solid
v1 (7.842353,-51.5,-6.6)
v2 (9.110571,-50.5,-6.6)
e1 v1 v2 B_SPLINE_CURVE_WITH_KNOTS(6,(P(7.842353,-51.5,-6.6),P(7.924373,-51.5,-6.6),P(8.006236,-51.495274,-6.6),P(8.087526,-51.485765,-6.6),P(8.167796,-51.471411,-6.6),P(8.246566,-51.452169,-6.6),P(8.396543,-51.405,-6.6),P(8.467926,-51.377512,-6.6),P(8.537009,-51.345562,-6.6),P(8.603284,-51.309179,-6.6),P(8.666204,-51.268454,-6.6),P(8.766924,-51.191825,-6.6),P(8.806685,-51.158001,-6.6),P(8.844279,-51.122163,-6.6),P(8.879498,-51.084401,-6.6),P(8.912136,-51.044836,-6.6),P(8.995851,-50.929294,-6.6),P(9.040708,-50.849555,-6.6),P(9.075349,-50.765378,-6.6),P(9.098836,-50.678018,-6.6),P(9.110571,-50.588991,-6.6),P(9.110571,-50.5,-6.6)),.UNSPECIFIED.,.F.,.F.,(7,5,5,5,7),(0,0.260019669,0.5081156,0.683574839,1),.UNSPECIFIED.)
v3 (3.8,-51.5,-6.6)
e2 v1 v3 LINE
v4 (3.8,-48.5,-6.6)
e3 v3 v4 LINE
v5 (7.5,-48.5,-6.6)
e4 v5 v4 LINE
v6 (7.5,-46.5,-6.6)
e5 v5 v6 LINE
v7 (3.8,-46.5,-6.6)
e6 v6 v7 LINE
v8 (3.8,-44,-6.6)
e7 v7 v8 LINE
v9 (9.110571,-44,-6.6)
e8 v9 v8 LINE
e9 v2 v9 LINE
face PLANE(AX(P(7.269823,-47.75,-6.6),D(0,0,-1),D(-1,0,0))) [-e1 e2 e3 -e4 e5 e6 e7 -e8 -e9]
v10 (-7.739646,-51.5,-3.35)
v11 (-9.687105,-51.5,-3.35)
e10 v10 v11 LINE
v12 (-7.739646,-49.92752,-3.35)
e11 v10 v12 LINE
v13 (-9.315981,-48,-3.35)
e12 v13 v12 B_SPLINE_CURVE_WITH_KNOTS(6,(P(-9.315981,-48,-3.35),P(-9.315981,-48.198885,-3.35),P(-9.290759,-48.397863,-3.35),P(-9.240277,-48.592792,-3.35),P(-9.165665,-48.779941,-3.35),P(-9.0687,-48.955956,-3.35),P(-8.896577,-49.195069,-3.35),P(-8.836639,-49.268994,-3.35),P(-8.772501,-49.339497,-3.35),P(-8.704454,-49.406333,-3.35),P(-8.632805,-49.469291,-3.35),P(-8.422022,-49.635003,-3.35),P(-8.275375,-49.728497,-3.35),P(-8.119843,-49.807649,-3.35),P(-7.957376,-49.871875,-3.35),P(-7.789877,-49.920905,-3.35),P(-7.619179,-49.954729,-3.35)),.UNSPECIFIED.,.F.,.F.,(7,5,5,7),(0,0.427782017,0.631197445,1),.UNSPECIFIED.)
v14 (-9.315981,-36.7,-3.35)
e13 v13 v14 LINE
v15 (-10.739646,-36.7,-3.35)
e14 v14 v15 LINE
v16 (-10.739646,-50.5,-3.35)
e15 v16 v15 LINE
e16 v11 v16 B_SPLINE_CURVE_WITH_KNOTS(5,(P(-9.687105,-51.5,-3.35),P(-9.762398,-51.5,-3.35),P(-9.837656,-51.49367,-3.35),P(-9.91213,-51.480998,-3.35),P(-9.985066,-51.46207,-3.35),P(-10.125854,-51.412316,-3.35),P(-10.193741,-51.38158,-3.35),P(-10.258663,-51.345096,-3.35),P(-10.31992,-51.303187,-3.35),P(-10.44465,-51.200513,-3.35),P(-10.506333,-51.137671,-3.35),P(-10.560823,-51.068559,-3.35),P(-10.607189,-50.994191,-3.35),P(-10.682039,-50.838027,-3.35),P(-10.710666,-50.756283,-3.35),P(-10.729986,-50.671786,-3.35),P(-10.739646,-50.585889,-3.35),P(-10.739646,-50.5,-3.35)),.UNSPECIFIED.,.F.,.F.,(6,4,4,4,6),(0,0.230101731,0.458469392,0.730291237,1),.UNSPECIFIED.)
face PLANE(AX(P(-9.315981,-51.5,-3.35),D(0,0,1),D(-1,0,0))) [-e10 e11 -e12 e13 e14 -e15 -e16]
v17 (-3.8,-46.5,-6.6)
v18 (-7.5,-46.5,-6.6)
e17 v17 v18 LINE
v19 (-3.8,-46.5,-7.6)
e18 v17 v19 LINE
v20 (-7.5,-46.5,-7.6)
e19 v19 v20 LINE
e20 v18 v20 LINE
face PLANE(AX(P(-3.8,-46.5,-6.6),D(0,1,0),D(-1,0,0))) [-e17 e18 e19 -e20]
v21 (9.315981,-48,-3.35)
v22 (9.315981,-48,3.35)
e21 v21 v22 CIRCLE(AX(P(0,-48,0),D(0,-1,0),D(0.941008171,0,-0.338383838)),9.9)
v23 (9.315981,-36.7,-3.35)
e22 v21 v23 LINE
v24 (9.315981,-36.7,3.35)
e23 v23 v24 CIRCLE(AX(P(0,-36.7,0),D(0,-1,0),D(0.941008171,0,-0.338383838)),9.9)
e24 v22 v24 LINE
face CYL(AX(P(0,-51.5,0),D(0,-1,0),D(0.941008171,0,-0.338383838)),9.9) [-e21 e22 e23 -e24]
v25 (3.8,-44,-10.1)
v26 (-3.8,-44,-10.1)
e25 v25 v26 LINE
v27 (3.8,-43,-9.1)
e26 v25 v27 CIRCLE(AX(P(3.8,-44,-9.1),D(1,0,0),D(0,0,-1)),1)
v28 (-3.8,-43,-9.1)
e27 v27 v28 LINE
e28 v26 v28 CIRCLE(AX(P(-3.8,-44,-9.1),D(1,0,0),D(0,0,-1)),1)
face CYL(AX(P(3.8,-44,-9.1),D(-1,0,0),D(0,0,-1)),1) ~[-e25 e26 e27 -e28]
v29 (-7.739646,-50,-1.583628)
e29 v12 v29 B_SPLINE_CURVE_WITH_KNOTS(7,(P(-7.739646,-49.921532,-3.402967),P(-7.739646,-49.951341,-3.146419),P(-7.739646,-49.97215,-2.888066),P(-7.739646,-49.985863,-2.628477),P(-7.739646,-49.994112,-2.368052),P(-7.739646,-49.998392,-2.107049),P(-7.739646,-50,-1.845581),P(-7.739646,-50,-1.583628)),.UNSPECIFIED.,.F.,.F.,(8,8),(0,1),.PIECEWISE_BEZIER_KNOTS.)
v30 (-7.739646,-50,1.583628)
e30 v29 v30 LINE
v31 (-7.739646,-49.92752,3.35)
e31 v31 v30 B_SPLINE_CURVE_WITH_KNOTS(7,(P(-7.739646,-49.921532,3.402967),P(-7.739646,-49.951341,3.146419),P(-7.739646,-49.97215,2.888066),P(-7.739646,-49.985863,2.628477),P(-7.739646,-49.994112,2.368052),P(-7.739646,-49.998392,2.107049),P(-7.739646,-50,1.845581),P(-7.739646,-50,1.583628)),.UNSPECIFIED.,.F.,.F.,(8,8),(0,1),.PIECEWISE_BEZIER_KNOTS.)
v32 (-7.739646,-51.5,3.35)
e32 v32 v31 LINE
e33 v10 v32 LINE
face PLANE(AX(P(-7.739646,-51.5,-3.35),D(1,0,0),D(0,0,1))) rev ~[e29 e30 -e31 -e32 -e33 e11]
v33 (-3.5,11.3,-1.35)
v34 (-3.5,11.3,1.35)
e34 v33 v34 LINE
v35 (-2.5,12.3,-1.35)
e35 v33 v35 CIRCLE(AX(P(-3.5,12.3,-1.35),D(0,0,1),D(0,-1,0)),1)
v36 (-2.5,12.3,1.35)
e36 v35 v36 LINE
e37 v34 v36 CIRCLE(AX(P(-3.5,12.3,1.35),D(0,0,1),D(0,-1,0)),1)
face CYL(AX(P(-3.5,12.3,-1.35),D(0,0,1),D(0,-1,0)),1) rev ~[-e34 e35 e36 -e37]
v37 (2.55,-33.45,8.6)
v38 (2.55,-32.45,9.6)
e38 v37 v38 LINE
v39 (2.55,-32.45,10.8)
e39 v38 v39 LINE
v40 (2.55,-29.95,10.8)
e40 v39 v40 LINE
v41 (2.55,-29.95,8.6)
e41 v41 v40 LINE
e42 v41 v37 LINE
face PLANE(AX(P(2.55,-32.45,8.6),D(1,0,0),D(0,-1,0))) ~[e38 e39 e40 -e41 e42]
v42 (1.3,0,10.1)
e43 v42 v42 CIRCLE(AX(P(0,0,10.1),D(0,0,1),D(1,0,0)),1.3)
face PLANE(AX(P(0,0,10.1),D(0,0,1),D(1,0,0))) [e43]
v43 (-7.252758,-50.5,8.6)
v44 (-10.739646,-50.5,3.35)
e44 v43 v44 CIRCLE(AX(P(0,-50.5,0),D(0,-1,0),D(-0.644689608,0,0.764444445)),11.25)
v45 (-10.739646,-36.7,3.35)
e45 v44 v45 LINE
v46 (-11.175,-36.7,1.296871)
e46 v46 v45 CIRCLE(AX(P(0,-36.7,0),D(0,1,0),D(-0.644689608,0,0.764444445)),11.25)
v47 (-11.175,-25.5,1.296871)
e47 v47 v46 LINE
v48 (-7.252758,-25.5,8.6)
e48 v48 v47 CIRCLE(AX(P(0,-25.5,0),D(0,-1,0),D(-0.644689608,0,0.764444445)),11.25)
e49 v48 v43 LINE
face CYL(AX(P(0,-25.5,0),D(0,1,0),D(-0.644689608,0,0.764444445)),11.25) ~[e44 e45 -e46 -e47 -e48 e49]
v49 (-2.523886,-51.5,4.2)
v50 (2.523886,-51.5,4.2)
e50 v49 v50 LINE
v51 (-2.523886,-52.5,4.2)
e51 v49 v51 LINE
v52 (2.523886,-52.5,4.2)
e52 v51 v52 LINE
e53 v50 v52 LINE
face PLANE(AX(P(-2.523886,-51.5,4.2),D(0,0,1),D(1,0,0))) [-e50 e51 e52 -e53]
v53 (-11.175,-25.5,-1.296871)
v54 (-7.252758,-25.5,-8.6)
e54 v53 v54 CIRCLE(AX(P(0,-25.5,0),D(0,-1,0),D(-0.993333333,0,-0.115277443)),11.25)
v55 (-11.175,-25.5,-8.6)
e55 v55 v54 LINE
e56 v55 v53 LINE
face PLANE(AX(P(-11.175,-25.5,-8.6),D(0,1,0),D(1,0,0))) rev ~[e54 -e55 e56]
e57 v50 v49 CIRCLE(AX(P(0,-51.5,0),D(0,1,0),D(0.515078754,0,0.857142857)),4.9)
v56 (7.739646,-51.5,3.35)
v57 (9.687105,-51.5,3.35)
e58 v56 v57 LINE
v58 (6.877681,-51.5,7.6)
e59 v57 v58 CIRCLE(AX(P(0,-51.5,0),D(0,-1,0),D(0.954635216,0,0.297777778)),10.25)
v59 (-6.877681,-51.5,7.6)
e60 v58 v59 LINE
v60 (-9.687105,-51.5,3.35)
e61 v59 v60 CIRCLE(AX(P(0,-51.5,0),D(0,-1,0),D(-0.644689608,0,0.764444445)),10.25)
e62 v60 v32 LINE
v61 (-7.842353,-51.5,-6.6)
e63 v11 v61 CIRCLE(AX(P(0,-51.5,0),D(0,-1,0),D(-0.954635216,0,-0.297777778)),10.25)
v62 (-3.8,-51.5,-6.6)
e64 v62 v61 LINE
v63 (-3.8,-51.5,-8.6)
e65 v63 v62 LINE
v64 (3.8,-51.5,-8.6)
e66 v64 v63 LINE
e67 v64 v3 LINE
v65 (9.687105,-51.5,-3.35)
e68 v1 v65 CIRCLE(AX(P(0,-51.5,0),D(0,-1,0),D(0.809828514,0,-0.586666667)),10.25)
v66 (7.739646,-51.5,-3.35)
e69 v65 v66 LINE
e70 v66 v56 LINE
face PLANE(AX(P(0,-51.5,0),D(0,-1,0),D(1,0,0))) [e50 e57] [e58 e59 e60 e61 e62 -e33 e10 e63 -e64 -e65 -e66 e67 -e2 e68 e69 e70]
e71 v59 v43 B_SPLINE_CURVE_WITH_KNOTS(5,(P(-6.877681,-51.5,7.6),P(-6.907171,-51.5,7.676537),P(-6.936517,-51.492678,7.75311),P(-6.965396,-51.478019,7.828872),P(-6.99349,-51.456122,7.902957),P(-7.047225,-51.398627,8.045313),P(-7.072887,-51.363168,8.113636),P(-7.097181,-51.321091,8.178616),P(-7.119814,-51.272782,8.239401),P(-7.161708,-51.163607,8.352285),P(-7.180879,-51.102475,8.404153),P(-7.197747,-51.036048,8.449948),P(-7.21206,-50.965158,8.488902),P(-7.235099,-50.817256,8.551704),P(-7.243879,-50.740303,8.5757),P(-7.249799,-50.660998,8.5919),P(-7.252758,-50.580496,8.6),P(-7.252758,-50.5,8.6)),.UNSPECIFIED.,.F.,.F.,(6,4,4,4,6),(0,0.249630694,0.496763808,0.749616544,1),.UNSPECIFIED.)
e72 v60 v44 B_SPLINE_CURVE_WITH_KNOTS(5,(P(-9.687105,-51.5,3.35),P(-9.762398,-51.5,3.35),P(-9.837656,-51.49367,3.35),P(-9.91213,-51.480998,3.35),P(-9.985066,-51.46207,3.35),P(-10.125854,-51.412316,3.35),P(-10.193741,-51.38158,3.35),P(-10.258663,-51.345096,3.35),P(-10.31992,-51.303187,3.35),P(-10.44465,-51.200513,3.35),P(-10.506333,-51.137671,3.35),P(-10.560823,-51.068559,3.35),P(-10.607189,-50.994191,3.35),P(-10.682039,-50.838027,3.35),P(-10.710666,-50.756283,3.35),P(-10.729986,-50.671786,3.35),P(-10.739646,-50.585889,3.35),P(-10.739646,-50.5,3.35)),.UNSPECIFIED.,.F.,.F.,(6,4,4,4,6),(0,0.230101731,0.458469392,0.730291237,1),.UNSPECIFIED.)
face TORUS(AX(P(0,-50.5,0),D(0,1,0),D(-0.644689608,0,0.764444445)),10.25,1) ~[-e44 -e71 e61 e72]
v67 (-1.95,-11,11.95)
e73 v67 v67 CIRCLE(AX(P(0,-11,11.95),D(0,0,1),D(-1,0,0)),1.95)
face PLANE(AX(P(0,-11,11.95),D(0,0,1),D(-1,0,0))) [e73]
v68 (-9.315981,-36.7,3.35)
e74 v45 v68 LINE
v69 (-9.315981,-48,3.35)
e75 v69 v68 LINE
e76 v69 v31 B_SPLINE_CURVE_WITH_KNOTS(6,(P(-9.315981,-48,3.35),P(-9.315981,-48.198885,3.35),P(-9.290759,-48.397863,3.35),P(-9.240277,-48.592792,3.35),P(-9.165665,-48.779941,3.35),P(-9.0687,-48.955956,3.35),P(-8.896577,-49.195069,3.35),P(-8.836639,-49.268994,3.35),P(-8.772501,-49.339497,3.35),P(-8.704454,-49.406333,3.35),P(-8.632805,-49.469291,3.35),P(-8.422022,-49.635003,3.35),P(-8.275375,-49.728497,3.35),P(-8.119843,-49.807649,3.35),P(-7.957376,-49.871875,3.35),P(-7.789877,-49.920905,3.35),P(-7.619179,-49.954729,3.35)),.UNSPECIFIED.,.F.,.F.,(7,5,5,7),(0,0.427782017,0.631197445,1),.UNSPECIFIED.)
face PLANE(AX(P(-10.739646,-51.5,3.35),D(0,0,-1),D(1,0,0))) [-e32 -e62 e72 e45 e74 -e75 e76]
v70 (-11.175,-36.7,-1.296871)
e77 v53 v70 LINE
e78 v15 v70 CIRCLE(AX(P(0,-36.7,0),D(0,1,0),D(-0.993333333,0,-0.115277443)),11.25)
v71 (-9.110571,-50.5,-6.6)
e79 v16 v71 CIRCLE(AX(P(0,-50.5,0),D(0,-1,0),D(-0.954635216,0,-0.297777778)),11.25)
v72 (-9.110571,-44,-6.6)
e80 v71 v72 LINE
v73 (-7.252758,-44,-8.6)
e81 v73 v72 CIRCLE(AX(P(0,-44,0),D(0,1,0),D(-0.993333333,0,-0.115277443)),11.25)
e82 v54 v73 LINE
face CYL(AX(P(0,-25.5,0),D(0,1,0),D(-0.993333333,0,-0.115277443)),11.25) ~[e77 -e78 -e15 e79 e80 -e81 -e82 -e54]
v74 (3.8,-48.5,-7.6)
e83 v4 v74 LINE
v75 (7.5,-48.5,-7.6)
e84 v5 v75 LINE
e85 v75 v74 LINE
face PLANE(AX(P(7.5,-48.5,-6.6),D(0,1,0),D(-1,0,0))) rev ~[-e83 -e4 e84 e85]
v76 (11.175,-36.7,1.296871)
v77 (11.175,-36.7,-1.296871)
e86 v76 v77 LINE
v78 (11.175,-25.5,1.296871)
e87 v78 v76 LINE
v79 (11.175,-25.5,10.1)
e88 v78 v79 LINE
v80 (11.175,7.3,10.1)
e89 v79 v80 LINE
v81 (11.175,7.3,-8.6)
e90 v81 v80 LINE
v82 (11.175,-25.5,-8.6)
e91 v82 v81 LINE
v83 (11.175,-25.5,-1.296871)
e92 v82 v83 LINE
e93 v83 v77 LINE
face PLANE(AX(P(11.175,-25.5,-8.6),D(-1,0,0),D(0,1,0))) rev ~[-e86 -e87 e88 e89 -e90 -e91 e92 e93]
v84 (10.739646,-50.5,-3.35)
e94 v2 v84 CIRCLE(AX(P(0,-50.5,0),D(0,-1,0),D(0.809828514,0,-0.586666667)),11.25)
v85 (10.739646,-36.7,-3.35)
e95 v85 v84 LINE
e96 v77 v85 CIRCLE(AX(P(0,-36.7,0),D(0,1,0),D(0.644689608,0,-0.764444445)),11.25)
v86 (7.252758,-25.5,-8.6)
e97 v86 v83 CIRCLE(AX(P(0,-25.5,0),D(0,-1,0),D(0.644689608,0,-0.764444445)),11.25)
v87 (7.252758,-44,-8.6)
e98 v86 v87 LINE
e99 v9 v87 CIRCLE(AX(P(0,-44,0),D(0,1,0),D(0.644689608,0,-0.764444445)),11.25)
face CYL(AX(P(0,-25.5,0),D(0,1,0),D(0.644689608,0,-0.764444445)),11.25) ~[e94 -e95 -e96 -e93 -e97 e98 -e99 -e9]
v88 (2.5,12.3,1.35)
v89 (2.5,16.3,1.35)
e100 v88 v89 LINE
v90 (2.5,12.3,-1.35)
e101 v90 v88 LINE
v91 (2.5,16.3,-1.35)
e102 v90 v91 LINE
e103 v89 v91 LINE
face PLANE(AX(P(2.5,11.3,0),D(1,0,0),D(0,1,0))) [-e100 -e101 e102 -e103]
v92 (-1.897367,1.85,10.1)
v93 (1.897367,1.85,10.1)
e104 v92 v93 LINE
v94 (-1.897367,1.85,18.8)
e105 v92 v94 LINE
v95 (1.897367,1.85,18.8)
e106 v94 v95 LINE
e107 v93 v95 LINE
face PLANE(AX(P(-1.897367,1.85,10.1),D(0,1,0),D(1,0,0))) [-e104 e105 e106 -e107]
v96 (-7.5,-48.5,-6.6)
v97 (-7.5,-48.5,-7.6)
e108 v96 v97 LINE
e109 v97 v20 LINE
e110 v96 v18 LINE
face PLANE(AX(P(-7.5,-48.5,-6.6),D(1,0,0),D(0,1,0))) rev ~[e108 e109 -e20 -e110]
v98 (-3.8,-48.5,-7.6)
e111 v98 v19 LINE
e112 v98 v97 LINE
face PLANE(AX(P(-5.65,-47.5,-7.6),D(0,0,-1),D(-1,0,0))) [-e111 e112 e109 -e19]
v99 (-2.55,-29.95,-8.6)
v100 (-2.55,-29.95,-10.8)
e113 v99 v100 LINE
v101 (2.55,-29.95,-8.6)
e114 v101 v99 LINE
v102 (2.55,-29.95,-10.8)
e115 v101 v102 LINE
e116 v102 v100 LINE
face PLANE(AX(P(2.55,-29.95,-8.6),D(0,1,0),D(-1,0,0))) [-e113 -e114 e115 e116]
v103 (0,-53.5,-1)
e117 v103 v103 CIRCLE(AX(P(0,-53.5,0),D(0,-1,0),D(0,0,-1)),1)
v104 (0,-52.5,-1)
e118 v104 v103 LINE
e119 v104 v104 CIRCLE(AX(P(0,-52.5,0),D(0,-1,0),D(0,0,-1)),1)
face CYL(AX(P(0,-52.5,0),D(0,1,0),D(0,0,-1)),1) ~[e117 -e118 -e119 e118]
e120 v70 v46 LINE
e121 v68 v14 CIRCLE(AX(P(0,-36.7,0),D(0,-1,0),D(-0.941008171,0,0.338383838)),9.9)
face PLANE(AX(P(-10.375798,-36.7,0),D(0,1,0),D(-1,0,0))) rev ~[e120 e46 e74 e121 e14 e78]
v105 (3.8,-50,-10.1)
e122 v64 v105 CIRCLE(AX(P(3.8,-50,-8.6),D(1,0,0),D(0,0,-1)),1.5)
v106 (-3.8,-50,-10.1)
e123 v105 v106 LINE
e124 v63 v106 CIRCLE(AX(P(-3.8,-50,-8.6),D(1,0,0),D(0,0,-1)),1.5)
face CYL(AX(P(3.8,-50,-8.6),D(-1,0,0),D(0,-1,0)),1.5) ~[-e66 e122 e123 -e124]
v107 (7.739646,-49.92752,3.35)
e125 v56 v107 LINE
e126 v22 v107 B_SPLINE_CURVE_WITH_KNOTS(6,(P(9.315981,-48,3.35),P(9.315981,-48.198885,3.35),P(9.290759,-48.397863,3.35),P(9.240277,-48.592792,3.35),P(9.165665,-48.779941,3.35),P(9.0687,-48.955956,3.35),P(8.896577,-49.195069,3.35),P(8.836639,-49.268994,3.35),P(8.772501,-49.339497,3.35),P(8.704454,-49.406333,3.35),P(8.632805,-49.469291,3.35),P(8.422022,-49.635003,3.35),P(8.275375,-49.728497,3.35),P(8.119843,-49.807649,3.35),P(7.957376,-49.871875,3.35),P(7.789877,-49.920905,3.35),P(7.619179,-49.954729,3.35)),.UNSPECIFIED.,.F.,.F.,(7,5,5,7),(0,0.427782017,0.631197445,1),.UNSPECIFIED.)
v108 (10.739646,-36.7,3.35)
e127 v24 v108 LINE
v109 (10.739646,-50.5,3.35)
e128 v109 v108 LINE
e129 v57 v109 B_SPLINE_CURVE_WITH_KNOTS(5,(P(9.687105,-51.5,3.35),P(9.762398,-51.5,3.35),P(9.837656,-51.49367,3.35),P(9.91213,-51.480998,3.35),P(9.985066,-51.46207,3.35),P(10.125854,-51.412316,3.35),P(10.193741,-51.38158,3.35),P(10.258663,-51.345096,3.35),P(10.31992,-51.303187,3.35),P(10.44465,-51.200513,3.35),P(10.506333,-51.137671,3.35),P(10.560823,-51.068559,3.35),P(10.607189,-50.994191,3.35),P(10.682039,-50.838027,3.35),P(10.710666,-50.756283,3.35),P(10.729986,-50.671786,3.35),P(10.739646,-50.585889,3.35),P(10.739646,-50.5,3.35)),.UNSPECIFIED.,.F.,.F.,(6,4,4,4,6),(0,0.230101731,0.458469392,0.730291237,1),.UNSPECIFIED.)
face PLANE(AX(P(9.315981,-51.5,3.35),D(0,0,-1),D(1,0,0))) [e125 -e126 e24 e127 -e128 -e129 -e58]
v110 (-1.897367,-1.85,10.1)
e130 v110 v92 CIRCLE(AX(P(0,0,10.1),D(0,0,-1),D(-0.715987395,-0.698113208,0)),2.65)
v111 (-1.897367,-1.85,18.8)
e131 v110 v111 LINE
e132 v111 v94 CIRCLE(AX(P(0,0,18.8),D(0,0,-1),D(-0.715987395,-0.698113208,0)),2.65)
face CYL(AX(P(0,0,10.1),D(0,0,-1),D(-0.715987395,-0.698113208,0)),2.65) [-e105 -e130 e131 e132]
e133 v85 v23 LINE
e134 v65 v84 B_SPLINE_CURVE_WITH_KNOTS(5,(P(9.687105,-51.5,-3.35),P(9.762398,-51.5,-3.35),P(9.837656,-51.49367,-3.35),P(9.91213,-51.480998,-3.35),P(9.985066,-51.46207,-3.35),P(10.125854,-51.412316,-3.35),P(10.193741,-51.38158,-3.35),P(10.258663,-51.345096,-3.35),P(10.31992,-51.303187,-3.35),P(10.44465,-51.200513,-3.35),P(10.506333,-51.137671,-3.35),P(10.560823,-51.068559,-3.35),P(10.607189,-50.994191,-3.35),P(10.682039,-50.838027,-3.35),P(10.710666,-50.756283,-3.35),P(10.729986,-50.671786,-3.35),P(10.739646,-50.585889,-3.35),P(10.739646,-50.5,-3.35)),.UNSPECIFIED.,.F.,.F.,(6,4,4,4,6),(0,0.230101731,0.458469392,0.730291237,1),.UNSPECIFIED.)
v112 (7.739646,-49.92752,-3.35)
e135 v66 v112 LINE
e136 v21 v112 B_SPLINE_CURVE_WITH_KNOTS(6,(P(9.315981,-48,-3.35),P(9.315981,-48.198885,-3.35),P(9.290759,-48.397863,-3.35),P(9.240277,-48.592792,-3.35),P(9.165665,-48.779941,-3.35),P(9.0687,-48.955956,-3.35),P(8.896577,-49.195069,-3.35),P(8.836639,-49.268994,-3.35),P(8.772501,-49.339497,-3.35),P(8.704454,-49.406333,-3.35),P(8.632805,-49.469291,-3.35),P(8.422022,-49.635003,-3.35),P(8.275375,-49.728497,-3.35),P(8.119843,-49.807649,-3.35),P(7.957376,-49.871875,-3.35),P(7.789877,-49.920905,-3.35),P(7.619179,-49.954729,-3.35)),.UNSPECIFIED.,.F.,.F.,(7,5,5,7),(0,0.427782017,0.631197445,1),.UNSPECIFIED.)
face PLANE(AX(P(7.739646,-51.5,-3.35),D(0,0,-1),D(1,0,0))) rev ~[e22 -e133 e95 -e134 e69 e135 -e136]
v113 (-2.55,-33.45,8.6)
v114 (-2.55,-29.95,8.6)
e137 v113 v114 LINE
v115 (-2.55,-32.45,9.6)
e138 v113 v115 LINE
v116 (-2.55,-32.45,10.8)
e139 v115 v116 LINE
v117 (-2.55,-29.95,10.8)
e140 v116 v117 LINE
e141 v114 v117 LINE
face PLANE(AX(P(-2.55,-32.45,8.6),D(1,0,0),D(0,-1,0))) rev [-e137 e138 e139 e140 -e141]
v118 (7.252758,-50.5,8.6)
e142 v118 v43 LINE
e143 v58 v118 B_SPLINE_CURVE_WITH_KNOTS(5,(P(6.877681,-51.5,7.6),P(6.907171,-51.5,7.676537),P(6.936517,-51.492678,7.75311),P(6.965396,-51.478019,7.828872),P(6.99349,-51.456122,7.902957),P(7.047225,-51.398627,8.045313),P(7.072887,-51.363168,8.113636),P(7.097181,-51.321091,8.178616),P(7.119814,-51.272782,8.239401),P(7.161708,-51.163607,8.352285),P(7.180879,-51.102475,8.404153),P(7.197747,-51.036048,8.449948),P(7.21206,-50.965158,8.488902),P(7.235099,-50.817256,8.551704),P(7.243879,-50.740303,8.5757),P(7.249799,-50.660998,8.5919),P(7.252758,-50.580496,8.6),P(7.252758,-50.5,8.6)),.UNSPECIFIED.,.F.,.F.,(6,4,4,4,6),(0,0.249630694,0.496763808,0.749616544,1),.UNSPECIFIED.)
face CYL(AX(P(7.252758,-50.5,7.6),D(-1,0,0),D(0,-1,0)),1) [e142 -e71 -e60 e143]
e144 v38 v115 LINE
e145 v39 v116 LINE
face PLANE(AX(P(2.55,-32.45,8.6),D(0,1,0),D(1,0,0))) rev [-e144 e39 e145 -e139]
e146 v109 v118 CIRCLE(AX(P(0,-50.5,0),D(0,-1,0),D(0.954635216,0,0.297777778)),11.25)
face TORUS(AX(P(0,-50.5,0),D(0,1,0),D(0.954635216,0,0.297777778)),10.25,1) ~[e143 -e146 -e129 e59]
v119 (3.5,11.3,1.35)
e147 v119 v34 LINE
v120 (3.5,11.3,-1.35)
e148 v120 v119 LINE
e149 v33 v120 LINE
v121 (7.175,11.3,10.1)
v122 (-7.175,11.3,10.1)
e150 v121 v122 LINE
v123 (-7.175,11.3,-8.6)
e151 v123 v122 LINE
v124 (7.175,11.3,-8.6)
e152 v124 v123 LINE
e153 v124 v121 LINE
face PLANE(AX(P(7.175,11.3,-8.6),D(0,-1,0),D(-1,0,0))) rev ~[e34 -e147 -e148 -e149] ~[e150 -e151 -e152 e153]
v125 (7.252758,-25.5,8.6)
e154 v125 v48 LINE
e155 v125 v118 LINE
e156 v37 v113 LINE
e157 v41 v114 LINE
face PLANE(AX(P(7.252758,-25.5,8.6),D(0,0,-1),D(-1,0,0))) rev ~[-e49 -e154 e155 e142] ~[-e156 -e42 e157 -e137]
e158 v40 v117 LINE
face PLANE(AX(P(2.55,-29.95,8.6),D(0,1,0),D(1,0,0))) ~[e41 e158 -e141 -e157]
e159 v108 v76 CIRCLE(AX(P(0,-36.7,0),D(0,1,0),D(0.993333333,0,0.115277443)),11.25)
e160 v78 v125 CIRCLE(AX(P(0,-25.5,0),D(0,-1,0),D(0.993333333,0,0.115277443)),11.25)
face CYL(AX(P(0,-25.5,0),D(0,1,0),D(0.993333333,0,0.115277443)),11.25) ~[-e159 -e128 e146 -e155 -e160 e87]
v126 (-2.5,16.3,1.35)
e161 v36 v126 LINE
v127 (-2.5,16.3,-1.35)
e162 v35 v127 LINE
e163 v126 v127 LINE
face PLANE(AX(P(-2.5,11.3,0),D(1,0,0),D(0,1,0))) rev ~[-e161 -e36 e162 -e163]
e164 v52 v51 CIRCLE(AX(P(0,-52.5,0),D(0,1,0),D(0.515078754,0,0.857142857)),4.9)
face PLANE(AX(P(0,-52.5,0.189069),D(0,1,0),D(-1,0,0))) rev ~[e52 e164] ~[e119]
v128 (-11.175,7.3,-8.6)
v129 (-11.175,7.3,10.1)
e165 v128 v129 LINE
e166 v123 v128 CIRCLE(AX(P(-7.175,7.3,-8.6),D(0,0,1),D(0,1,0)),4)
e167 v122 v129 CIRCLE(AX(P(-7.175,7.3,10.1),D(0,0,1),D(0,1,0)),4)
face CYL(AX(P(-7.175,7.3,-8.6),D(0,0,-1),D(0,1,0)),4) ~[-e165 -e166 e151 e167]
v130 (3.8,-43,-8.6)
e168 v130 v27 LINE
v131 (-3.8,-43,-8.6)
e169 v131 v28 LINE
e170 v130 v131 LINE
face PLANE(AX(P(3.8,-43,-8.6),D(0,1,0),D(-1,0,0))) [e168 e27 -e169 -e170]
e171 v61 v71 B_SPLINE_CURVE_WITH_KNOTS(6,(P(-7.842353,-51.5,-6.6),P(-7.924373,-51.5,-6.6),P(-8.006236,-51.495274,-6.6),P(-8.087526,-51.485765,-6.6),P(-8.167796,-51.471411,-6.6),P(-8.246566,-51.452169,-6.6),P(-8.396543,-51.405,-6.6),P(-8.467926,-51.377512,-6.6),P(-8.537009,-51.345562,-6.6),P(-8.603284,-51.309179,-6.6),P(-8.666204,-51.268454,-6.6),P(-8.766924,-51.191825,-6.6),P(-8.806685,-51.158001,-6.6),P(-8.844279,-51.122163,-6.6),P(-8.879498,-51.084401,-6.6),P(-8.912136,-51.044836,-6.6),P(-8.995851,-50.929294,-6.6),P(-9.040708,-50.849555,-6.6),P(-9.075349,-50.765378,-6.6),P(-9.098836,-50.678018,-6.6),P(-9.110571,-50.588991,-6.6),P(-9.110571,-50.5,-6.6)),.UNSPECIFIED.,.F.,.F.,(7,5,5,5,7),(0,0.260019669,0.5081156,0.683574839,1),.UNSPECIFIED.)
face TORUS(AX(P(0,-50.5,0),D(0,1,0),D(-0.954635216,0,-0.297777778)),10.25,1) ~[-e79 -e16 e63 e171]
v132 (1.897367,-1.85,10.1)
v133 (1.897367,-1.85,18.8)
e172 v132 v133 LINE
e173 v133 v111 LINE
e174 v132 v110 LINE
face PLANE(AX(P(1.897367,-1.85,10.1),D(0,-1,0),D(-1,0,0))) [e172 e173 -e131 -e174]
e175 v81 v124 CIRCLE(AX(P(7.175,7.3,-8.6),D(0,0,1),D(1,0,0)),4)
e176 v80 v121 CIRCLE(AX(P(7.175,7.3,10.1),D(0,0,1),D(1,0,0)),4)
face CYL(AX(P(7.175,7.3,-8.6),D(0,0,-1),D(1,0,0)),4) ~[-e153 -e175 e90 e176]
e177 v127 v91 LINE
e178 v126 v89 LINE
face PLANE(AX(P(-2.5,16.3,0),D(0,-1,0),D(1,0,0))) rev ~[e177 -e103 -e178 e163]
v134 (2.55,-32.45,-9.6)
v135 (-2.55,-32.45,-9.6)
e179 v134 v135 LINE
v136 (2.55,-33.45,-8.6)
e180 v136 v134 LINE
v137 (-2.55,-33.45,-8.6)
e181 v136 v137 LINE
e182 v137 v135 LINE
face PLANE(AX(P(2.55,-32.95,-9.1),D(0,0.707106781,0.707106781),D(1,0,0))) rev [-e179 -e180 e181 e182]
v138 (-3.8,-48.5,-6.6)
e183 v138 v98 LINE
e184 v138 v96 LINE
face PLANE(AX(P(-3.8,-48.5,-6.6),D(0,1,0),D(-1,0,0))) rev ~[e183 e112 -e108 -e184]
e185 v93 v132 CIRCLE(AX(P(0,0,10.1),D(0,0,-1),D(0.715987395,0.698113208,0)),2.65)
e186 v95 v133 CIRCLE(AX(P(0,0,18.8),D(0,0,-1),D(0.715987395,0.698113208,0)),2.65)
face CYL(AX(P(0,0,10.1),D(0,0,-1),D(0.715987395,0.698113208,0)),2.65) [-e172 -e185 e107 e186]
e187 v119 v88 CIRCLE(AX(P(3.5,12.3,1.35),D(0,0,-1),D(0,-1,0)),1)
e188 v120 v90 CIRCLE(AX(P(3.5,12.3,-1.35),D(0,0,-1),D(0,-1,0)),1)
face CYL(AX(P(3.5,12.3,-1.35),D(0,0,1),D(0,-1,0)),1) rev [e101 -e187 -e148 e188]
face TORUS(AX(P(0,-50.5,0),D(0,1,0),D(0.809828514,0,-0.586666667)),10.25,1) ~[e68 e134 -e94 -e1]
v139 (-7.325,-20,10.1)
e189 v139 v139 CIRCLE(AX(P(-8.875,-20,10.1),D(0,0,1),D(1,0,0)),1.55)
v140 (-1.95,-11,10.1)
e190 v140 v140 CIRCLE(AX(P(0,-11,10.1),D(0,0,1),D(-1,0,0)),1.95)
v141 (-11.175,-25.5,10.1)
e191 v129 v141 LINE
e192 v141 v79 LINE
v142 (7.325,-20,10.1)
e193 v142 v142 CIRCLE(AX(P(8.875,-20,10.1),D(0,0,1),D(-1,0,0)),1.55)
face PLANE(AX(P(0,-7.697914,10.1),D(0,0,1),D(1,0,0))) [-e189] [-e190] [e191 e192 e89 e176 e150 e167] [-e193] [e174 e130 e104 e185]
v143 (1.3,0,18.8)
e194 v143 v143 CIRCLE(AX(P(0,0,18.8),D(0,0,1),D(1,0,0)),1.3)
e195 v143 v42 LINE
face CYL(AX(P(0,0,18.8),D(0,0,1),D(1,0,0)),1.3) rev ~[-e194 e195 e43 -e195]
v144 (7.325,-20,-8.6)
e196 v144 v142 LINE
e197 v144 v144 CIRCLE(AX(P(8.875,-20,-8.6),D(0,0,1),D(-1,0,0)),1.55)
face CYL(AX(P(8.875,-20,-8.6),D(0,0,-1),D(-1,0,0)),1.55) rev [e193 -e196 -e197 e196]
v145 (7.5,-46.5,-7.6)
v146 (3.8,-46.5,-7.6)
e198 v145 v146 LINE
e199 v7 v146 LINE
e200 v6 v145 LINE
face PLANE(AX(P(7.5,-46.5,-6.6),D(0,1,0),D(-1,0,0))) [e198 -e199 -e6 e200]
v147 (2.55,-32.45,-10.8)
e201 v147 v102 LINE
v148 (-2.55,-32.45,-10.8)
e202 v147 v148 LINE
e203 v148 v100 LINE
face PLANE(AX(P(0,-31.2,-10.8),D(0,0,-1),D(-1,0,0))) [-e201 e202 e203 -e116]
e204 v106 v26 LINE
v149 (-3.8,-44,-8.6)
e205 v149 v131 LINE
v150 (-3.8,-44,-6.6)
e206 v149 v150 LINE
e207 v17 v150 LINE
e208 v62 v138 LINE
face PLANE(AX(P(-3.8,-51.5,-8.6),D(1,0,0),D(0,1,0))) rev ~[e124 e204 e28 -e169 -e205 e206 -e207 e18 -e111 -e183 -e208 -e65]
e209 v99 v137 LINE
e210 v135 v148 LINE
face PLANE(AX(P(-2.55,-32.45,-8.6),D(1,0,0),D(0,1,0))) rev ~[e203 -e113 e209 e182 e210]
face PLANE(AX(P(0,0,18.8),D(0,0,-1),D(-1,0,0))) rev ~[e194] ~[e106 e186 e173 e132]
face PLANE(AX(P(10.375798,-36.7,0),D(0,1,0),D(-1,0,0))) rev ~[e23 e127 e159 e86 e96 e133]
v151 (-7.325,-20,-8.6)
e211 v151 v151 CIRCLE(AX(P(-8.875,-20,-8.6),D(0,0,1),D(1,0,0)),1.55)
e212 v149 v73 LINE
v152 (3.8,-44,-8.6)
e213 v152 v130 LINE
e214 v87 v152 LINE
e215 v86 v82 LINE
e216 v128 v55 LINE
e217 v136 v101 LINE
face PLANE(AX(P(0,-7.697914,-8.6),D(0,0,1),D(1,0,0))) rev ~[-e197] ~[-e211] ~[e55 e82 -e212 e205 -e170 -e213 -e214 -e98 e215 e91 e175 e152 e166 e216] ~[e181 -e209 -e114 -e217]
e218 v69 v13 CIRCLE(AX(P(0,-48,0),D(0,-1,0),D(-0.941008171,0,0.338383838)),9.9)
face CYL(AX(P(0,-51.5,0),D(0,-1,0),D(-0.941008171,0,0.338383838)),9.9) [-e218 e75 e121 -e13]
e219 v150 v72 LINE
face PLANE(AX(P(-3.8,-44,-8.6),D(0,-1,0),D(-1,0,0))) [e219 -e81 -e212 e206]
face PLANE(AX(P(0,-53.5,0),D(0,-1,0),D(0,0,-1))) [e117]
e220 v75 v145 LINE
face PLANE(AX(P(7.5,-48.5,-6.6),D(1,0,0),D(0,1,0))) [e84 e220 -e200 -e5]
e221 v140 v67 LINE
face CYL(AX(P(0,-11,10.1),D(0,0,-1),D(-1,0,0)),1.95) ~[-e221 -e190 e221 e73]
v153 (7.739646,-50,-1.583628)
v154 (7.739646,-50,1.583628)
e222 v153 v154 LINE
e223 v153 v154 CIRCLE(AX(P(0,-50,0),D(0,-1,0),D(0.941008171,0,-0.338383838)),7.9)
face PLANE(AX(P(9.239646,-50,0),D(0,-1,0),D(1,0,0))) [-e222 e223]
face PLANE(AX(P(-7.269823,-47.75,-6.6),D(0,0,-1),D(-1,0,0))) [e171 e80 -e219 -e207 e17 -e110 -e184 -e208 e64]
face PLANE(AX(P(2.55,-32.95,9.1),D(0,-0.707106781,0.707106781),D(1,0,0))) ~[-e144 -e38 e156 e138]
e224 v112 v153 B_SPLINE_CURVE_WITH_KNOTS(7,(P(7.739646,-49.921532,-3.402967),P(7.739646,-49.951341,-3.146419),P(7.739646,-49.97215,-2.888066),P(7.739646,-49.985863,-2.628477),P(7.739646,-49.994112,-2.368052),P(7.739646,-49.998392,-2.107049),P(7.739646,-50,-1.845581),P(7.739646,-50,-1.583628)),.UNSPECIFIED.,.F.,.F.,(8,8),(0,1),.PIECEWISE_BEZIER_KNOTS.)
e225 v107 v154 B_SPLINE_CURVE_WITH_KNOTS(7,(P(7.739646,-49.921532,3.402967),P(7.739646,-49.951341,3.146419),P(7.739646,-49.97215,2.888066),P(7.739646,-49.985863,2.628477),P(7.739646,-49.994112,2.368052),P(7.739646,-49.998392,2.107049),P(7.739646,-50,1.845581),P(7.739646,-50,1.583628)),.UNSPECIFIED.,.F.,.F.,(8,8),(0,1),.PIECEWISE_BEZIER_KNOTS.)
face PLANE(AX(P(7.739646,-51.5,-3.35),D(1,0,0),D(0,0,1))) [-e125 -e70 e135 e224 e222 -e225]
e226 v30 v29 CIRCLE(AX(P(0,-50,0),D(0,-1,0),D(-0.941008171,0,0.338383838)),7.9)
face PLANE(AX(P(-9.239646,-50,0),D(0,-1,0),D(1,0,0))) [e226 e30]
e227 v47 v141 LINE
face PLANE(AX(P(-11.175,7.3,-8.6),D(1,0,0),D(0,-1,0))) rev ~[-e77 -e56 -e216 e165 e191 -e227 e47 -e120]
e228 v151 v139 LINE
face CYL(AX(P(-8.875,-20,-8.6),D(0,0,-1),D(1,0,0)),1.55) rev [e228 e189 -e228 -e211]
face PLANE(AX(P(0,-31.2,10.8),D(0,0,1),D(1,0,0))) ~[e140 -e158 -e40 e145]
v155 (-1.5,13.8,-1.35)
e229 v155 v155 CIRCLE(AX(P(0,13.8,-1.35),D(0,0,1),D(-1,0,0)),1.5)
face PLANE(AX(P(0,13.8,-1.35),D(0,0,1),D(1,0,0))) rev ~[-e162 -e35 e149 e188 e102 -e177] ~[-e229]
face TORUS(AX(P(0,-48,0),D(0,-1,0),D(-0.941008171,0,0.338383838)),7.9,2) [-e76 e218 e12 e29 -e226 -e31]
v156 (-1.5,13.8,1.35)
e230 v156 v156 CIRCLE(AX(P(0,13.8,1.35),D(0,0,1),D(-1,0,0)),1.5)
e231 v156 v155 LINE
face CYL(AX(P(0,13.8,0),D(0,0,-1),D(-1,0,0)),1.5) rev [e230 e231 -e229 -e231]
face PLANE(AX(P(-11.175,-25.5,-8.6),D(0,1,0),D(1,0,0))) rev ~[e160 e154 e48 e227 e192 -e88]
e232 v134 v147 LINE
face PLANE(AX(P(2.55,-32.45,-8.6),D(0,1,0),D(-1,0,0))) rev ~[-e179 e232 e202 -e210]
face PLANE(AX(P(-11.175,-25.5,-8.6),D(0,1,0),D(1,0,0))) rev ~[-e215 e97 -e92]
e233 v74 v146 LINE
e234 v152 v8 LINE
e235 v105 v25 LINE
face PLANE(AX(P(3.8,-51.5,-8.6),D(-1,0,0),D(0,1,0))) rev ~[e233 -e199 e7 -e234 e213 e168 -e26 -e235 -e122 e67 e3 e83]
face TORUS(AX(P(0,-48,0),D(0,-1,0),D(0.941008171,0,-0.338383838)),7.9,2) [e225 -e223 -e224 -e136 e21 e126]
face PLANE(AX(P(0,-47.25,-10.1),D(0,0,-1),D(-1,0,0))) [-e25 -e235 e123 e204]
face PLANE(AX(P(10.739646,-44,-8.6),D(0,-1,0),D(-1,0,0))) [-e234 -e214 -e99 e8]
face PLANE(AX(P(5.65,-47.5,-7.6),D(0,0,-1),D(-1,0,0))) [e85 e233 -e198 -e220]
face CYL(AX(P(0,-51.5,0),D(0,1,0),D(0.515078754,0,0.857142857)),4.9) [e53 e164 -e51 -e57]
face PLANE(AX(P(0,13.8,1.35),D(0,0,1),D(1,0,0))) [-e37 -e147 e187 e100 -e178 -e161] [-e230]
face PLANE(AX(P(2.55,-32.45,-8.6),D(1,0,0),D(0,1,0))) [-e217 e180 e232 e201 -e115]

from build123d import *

# Parameters (mm, degrees)
BOSS_EXTRUDE1_DEPTH      = 10.1
BOSS_EXTRUDE1_DEPTH_BACK = 8.6
SKETCH1_R                = 1.55
BOSS_EXTRUDE2_DEPTH      = 8.7
SKETCH3_R                = 1.95
BOSS_EXTRUDE3_DEPTH      = 1.85
BOSS_EXTRUDE4_DEPTH      = 26
SKETCH5_W                = 5.1
SKETCH5_H                = 2.5
BOSS_EXTRUDE5_DEPTH      = 2.2
CHAMFER1_SIZE            = 1
CUT_EXTRUDE1_DEPTH       = 14.8
SKETCH7_W                = 3
SKETCH7_H                = 6.7
CUT_EXTRUDE2_DEPTH       = 1.5
FILLET1_R                = 2
SKETCH8_W                = 7.6
SKETCH8_H                = 8.5
BOSS_EXTRUDE6_DEPTH      = 1.5
SKETCH9_W                = 6.939646177
SKETCH9_H                = 7.5
CUT_EXTRUDE3_DEPTH       = 2
SKETCH10_W               = 3.7
SKETCH10_H               = 2
BOSS_EXTRUDE7_DEPTH      = 1
FILLET2_R                = 1.5
BOSS_EXTRUDE8_DEPTH      = 1
SKETCH12_R               = 1
BOSS_EXTRUDE9_DEPTH      = 1
SKETCH13_R               = 1.3
CUT_EXTRUDE4_DEPTH       = 8.7
SKETCH14_W               = 5
SKETCH14_H               = 5
SKETCH14_R               = 1.5
BOSS_EXTRUDE10_DEPTH     = 1.35
FILLET3_R                = 1


with BuildPart() as part:
    # Sketch1 → Boss-Extrude1 (new, two sides: drawn at the far end of the back side and taken through both)
    with BuildSketch(Plane.XY.offset(-BOSS_EXTRUDE1_DEPTH_BACK)):
        with BuildLine():
            Line((-11.175, -25.5), (11.175, -25.5))
            Line((11.175, -25.5), (11.175, 7.3))
            ThreePointArc((11.175, 7.3), (10.003427125, 10.128427125), (7.175, 11.3))
            Line((7.175, 11.3), (-7.175, 11.3))
            ThreePointArc((-7.175, 11.3), (-10.003427125, 10.128427125), (-11.175, 7.3))
            Line((-11.175, 7.3), (-11.175, -25.5))
        make_face()
        with Locations((-8.875, -20)):
            Circle(SKETCH1_R, mode=Mode.SUBTRACT)
        with Locations(Location((8.875, -20, 0), (0, 0, 180))):
            Circle(SKETCH1_R, mode=Mode.SUBTRACT)
    extrude(amount=BOSS_EXTRUDE1_DEPTH + BOSS_EXTRUDE1_DEPTH_BACK)

    # Sketch2 → Boss-Extrude2 (add)
    with BuildSketch(Plane.XY.offset(10.1)):
        with BuildLine():
            Line((-1.897366596, 1.85), (1.897366596, 1.85))
            ThreePointArc((1.897366596, 1.85), (2.65, 0), (1.897366596, -1.85))
            Line((1.897366596, -1.85), (-1.897366596, -1.85))
            ThreePointArc((-1.897366596, -1.85), (-2.65, 0), (-1.897366596, 1.85))
        make_face()
    extrude(amount=BOSS_EXTRUDE2_DEPTH)

    # Sketch3 → Boss-Extrude3 (add)
    with BuildSketch(Plane.XY.offset(10.1)):
        with Locations(Location((0, -11, 0), (0, 0, 180))):
            Circle(SKETCH3_R)
    extrude(amount=BOSS_EXTRUDE3_DEPTH)

    # Sketch4 → Boss-Extrude4 (add)
    with BuildSketch(Plane.XZ.offset(25.5)):
        with BuildLine():
            Line((-7.252758096, -8.6), (7.252758096, -8.6))
            ThreePointArc((7.252758096, -8.6), (9.911079132, -5.322876144), (11.175, -1.296871235))
            Line((11.175, -1.296871235), (11.175, 1.296871235))
            ThreePointArc((11.175, 1.296871235), (9.911079132, 5.322876144), (7.252758096, 8.6))
            Line((7.252758096, 8.6), (-7.252758096, 8.6))
            ThreePointArc((-7.252758096, 8.6), (-9.911079132, 5.322876144), (-11.175, 1.296871235))
            Line((-11.175, 1.296871235), (-11.175, -1.296871235))
            ThreePointArc((-11.175, -1.296871235), (-9.911079132, -5.322876144), (-7.252758096, -8.6))
        make_face()
    extrude(amount=BOSS_EXTRUDE4_DEPTH)

    # Sketch5 → Boss-Extrude5 (add)
    with BuildSketch(Plane(origin=(0, 0, -8.6), x_dir=(-1, 0, 0), z_dir=(0, 0, -1))):
        with Locations((0, -31.2)):
            Rectangle(SKETCH5_W, SKETCH5_H)
    boss_extrude5 = extrude(amount=BOSS_EXTRUDE5_DEPTH)

    # Mirror1: Boss-Extrude5 across plane
    add(boss_extrude5.mirror(Plane.XY))

    # Chamfer1
    chamfer1_edges = [part.edges().sort_by_distance(p)[0] for p in [
        (0, -32.45, 8.6),
        (0, -32.45, -8.6),
    ]]
    chamfer(chamfer1_edges, length=CHAMFER1_SIZE)

    # Sketch6 → Cut-Extrude1 (cut)
    with BuildSketch(Plane.XZ.offset(51.5)):
        with BuildLine():
            Line((-11.175, 3.35), (-9.315980893, 3.35))
            ThreePointArc((-9.315980893, 3.35), (-9.9, 0), (-9.315980893, -3.35))
            Line((-9.315980893, -3.35), (-11.175, -3.35))
            Line((-11.175, -3.35), (-11.175, 3.35))
        make_face()
        with BuildLine():
            Line((11.175, -3.35), (9.315980893, -3.35))
            ThreePointArc((9.315980893, -3.35), (9.9, 0), (9.315980893, 3.35))
            Line((9.315980893, 3.35), (11.175, 3.35))
            Line((11.175, 3.35), (11.175, -3.35))
        make_face()
    extrude(amount=-CUT_EXTRUDE1_DEPTH, mode=Mode.SUBTRACT)

    # Sketch7 → Cut-Extrude2 (cut)
    with BuildSketch(Plane.XZ.offset(51.5)):
        with Locations((-9.239646177, 0)):
            Rectangle(SKETCH7_W, SKETCH7_H)
        with Locations((9.239646177, 0)):
            Rectangle(SKETCH7_W, SKETCH7_H)
    extrude(amount=-CUT_EXTRUDE2_DEPTH, mode=Mode.SUBTRACT)

    # Fillet1
    fillet1_edges = [part.edges().sort_by_distance(p)[0] for p in [
        (9.9, -50, 0),
        (-9.9, -50, 0),
    ]]
    fillet(fillet1_edges, radius=FILLET1_R)

    # Sketch8 → Boss-Extrude6 (add)
    with BuildSketch(Plane(origin=(0, 0, -8.6), x_dir=(-1, 0, 0), z_dir=(0, 0, -1))):
        with Locations((0, -47.25)):
            Rectangle(SKETCH8_W, SKETCH8_H)
    extrude(amount=BOSS_EXTRUDE6_DEPTH)

    # Sketch9 → Cut-Extrude3 (cut)
    with BuildSketch(Plane(origin=(0, 0, -8.6), x_dir=(-1, 0, 0), z_dir=(0, 0, -1))):
        with Locations((7.269823089, -47.75)):
            Rectangle(SKETCH9_W, SKETCH9_H)
        with Locations((-7.269823089, -47.75)):
            Rectangle(SKETCH9_W, SKETCH9_H)
    extrude(amount=-CUT_EXTRUDE3_DEPTH, mode=Mode.SUBTRACT)

    # Sketch10 → Boss-Extrude7 (add)
    with BuildSketch(Plane(origin=(0, 0, -6.6), x_dir=(-1, 0, 0), z_dir=(0, 0, -1))):
        with Locations((-5.65, -47.5)):
            Rectangle(SKETCH10_W, SKETCH10_H)
        with Locations((5.65, -47.5)):
            Rectangle(SKETCH10_W, SKETCH10_H)
    extrude(amount=BOSS_EXTRUDE7_DEPTH)

    # Fillet2
    fillet2_edges = [part.edges().sort_by_distance(p)[0] for p in [
        (0, -51.5, -10.1),
    ]]
    fillet(fillet2_edges, radius=FILLET2_R)

    # Sketch11 → Boss-Extrude8 (add)
    with BuildSketch(Plane.XZ.offset(51.5)):
        with BuildLine():
            Line((-2.523885893, 4.2), (2.523885893, 4.2))
            ThreePointArc((2.523885893, 4.2), (0, -4.9), (-2.523885893, 4.2))
        make_face()
    extrude(amount=BOSS_EXTRUDE8_DEPTH)

    # Sketch12 → Boss-Extrude9 (add)
    with BuildSketch(Plane.XZ.offset(52.5)):
        with Locations(Location((0, 0, 0), (0, 0, 270))):
            Circle(SKETCH12_R)
    extrude(amount=BOSS_EXTRUDE9_DEPTH)

    # Sketch13 → Cut-Extrude4 (cut)
    with BuildSketch(Plane.XY.offset(18.8)):
        Circle(SKETCH13_R)
    extrude(amount=-CUT_EXTRUDE4_DEPTH, mode=Mode.SUBTRACT)

    # Sketch14 → Boss-Extrude10 (add, symmetric)
    with BuildSketch(Plane.XY):
        with Locations((0, 13.8)):
            Rectangle(SKETCH14_W, SKETCH14_H)
        with Locations(Location((0, 13.8, 0), (0, 0, 180))):
            Circle(SKETCH14_R, mode=Mode.SUBTRACT)
    extrude(amount=BOSS_EXTRUDE10_DEPTH, both=True)

    # Fillet3
    fillet3_edges = [part.edges().sort_by_distance(p)[0] for p in [
        (9.371354111, -51.5, 6.224164371),
        (-10.057256253, -51.5, -5.041239595),
        (0, -43, -10.1),
        (10.057256253, -51.5, -5.041239595),
        (2.5, 11.3, 0),
        (-2.5, 11.3, 0),
        (0, -51.5, 8.6),
        (-9.371354111, -51.5, 6.224164371),
    ]]
    fillet(fillet3_edges, radius=FILLET3_R)


solid = part.part
